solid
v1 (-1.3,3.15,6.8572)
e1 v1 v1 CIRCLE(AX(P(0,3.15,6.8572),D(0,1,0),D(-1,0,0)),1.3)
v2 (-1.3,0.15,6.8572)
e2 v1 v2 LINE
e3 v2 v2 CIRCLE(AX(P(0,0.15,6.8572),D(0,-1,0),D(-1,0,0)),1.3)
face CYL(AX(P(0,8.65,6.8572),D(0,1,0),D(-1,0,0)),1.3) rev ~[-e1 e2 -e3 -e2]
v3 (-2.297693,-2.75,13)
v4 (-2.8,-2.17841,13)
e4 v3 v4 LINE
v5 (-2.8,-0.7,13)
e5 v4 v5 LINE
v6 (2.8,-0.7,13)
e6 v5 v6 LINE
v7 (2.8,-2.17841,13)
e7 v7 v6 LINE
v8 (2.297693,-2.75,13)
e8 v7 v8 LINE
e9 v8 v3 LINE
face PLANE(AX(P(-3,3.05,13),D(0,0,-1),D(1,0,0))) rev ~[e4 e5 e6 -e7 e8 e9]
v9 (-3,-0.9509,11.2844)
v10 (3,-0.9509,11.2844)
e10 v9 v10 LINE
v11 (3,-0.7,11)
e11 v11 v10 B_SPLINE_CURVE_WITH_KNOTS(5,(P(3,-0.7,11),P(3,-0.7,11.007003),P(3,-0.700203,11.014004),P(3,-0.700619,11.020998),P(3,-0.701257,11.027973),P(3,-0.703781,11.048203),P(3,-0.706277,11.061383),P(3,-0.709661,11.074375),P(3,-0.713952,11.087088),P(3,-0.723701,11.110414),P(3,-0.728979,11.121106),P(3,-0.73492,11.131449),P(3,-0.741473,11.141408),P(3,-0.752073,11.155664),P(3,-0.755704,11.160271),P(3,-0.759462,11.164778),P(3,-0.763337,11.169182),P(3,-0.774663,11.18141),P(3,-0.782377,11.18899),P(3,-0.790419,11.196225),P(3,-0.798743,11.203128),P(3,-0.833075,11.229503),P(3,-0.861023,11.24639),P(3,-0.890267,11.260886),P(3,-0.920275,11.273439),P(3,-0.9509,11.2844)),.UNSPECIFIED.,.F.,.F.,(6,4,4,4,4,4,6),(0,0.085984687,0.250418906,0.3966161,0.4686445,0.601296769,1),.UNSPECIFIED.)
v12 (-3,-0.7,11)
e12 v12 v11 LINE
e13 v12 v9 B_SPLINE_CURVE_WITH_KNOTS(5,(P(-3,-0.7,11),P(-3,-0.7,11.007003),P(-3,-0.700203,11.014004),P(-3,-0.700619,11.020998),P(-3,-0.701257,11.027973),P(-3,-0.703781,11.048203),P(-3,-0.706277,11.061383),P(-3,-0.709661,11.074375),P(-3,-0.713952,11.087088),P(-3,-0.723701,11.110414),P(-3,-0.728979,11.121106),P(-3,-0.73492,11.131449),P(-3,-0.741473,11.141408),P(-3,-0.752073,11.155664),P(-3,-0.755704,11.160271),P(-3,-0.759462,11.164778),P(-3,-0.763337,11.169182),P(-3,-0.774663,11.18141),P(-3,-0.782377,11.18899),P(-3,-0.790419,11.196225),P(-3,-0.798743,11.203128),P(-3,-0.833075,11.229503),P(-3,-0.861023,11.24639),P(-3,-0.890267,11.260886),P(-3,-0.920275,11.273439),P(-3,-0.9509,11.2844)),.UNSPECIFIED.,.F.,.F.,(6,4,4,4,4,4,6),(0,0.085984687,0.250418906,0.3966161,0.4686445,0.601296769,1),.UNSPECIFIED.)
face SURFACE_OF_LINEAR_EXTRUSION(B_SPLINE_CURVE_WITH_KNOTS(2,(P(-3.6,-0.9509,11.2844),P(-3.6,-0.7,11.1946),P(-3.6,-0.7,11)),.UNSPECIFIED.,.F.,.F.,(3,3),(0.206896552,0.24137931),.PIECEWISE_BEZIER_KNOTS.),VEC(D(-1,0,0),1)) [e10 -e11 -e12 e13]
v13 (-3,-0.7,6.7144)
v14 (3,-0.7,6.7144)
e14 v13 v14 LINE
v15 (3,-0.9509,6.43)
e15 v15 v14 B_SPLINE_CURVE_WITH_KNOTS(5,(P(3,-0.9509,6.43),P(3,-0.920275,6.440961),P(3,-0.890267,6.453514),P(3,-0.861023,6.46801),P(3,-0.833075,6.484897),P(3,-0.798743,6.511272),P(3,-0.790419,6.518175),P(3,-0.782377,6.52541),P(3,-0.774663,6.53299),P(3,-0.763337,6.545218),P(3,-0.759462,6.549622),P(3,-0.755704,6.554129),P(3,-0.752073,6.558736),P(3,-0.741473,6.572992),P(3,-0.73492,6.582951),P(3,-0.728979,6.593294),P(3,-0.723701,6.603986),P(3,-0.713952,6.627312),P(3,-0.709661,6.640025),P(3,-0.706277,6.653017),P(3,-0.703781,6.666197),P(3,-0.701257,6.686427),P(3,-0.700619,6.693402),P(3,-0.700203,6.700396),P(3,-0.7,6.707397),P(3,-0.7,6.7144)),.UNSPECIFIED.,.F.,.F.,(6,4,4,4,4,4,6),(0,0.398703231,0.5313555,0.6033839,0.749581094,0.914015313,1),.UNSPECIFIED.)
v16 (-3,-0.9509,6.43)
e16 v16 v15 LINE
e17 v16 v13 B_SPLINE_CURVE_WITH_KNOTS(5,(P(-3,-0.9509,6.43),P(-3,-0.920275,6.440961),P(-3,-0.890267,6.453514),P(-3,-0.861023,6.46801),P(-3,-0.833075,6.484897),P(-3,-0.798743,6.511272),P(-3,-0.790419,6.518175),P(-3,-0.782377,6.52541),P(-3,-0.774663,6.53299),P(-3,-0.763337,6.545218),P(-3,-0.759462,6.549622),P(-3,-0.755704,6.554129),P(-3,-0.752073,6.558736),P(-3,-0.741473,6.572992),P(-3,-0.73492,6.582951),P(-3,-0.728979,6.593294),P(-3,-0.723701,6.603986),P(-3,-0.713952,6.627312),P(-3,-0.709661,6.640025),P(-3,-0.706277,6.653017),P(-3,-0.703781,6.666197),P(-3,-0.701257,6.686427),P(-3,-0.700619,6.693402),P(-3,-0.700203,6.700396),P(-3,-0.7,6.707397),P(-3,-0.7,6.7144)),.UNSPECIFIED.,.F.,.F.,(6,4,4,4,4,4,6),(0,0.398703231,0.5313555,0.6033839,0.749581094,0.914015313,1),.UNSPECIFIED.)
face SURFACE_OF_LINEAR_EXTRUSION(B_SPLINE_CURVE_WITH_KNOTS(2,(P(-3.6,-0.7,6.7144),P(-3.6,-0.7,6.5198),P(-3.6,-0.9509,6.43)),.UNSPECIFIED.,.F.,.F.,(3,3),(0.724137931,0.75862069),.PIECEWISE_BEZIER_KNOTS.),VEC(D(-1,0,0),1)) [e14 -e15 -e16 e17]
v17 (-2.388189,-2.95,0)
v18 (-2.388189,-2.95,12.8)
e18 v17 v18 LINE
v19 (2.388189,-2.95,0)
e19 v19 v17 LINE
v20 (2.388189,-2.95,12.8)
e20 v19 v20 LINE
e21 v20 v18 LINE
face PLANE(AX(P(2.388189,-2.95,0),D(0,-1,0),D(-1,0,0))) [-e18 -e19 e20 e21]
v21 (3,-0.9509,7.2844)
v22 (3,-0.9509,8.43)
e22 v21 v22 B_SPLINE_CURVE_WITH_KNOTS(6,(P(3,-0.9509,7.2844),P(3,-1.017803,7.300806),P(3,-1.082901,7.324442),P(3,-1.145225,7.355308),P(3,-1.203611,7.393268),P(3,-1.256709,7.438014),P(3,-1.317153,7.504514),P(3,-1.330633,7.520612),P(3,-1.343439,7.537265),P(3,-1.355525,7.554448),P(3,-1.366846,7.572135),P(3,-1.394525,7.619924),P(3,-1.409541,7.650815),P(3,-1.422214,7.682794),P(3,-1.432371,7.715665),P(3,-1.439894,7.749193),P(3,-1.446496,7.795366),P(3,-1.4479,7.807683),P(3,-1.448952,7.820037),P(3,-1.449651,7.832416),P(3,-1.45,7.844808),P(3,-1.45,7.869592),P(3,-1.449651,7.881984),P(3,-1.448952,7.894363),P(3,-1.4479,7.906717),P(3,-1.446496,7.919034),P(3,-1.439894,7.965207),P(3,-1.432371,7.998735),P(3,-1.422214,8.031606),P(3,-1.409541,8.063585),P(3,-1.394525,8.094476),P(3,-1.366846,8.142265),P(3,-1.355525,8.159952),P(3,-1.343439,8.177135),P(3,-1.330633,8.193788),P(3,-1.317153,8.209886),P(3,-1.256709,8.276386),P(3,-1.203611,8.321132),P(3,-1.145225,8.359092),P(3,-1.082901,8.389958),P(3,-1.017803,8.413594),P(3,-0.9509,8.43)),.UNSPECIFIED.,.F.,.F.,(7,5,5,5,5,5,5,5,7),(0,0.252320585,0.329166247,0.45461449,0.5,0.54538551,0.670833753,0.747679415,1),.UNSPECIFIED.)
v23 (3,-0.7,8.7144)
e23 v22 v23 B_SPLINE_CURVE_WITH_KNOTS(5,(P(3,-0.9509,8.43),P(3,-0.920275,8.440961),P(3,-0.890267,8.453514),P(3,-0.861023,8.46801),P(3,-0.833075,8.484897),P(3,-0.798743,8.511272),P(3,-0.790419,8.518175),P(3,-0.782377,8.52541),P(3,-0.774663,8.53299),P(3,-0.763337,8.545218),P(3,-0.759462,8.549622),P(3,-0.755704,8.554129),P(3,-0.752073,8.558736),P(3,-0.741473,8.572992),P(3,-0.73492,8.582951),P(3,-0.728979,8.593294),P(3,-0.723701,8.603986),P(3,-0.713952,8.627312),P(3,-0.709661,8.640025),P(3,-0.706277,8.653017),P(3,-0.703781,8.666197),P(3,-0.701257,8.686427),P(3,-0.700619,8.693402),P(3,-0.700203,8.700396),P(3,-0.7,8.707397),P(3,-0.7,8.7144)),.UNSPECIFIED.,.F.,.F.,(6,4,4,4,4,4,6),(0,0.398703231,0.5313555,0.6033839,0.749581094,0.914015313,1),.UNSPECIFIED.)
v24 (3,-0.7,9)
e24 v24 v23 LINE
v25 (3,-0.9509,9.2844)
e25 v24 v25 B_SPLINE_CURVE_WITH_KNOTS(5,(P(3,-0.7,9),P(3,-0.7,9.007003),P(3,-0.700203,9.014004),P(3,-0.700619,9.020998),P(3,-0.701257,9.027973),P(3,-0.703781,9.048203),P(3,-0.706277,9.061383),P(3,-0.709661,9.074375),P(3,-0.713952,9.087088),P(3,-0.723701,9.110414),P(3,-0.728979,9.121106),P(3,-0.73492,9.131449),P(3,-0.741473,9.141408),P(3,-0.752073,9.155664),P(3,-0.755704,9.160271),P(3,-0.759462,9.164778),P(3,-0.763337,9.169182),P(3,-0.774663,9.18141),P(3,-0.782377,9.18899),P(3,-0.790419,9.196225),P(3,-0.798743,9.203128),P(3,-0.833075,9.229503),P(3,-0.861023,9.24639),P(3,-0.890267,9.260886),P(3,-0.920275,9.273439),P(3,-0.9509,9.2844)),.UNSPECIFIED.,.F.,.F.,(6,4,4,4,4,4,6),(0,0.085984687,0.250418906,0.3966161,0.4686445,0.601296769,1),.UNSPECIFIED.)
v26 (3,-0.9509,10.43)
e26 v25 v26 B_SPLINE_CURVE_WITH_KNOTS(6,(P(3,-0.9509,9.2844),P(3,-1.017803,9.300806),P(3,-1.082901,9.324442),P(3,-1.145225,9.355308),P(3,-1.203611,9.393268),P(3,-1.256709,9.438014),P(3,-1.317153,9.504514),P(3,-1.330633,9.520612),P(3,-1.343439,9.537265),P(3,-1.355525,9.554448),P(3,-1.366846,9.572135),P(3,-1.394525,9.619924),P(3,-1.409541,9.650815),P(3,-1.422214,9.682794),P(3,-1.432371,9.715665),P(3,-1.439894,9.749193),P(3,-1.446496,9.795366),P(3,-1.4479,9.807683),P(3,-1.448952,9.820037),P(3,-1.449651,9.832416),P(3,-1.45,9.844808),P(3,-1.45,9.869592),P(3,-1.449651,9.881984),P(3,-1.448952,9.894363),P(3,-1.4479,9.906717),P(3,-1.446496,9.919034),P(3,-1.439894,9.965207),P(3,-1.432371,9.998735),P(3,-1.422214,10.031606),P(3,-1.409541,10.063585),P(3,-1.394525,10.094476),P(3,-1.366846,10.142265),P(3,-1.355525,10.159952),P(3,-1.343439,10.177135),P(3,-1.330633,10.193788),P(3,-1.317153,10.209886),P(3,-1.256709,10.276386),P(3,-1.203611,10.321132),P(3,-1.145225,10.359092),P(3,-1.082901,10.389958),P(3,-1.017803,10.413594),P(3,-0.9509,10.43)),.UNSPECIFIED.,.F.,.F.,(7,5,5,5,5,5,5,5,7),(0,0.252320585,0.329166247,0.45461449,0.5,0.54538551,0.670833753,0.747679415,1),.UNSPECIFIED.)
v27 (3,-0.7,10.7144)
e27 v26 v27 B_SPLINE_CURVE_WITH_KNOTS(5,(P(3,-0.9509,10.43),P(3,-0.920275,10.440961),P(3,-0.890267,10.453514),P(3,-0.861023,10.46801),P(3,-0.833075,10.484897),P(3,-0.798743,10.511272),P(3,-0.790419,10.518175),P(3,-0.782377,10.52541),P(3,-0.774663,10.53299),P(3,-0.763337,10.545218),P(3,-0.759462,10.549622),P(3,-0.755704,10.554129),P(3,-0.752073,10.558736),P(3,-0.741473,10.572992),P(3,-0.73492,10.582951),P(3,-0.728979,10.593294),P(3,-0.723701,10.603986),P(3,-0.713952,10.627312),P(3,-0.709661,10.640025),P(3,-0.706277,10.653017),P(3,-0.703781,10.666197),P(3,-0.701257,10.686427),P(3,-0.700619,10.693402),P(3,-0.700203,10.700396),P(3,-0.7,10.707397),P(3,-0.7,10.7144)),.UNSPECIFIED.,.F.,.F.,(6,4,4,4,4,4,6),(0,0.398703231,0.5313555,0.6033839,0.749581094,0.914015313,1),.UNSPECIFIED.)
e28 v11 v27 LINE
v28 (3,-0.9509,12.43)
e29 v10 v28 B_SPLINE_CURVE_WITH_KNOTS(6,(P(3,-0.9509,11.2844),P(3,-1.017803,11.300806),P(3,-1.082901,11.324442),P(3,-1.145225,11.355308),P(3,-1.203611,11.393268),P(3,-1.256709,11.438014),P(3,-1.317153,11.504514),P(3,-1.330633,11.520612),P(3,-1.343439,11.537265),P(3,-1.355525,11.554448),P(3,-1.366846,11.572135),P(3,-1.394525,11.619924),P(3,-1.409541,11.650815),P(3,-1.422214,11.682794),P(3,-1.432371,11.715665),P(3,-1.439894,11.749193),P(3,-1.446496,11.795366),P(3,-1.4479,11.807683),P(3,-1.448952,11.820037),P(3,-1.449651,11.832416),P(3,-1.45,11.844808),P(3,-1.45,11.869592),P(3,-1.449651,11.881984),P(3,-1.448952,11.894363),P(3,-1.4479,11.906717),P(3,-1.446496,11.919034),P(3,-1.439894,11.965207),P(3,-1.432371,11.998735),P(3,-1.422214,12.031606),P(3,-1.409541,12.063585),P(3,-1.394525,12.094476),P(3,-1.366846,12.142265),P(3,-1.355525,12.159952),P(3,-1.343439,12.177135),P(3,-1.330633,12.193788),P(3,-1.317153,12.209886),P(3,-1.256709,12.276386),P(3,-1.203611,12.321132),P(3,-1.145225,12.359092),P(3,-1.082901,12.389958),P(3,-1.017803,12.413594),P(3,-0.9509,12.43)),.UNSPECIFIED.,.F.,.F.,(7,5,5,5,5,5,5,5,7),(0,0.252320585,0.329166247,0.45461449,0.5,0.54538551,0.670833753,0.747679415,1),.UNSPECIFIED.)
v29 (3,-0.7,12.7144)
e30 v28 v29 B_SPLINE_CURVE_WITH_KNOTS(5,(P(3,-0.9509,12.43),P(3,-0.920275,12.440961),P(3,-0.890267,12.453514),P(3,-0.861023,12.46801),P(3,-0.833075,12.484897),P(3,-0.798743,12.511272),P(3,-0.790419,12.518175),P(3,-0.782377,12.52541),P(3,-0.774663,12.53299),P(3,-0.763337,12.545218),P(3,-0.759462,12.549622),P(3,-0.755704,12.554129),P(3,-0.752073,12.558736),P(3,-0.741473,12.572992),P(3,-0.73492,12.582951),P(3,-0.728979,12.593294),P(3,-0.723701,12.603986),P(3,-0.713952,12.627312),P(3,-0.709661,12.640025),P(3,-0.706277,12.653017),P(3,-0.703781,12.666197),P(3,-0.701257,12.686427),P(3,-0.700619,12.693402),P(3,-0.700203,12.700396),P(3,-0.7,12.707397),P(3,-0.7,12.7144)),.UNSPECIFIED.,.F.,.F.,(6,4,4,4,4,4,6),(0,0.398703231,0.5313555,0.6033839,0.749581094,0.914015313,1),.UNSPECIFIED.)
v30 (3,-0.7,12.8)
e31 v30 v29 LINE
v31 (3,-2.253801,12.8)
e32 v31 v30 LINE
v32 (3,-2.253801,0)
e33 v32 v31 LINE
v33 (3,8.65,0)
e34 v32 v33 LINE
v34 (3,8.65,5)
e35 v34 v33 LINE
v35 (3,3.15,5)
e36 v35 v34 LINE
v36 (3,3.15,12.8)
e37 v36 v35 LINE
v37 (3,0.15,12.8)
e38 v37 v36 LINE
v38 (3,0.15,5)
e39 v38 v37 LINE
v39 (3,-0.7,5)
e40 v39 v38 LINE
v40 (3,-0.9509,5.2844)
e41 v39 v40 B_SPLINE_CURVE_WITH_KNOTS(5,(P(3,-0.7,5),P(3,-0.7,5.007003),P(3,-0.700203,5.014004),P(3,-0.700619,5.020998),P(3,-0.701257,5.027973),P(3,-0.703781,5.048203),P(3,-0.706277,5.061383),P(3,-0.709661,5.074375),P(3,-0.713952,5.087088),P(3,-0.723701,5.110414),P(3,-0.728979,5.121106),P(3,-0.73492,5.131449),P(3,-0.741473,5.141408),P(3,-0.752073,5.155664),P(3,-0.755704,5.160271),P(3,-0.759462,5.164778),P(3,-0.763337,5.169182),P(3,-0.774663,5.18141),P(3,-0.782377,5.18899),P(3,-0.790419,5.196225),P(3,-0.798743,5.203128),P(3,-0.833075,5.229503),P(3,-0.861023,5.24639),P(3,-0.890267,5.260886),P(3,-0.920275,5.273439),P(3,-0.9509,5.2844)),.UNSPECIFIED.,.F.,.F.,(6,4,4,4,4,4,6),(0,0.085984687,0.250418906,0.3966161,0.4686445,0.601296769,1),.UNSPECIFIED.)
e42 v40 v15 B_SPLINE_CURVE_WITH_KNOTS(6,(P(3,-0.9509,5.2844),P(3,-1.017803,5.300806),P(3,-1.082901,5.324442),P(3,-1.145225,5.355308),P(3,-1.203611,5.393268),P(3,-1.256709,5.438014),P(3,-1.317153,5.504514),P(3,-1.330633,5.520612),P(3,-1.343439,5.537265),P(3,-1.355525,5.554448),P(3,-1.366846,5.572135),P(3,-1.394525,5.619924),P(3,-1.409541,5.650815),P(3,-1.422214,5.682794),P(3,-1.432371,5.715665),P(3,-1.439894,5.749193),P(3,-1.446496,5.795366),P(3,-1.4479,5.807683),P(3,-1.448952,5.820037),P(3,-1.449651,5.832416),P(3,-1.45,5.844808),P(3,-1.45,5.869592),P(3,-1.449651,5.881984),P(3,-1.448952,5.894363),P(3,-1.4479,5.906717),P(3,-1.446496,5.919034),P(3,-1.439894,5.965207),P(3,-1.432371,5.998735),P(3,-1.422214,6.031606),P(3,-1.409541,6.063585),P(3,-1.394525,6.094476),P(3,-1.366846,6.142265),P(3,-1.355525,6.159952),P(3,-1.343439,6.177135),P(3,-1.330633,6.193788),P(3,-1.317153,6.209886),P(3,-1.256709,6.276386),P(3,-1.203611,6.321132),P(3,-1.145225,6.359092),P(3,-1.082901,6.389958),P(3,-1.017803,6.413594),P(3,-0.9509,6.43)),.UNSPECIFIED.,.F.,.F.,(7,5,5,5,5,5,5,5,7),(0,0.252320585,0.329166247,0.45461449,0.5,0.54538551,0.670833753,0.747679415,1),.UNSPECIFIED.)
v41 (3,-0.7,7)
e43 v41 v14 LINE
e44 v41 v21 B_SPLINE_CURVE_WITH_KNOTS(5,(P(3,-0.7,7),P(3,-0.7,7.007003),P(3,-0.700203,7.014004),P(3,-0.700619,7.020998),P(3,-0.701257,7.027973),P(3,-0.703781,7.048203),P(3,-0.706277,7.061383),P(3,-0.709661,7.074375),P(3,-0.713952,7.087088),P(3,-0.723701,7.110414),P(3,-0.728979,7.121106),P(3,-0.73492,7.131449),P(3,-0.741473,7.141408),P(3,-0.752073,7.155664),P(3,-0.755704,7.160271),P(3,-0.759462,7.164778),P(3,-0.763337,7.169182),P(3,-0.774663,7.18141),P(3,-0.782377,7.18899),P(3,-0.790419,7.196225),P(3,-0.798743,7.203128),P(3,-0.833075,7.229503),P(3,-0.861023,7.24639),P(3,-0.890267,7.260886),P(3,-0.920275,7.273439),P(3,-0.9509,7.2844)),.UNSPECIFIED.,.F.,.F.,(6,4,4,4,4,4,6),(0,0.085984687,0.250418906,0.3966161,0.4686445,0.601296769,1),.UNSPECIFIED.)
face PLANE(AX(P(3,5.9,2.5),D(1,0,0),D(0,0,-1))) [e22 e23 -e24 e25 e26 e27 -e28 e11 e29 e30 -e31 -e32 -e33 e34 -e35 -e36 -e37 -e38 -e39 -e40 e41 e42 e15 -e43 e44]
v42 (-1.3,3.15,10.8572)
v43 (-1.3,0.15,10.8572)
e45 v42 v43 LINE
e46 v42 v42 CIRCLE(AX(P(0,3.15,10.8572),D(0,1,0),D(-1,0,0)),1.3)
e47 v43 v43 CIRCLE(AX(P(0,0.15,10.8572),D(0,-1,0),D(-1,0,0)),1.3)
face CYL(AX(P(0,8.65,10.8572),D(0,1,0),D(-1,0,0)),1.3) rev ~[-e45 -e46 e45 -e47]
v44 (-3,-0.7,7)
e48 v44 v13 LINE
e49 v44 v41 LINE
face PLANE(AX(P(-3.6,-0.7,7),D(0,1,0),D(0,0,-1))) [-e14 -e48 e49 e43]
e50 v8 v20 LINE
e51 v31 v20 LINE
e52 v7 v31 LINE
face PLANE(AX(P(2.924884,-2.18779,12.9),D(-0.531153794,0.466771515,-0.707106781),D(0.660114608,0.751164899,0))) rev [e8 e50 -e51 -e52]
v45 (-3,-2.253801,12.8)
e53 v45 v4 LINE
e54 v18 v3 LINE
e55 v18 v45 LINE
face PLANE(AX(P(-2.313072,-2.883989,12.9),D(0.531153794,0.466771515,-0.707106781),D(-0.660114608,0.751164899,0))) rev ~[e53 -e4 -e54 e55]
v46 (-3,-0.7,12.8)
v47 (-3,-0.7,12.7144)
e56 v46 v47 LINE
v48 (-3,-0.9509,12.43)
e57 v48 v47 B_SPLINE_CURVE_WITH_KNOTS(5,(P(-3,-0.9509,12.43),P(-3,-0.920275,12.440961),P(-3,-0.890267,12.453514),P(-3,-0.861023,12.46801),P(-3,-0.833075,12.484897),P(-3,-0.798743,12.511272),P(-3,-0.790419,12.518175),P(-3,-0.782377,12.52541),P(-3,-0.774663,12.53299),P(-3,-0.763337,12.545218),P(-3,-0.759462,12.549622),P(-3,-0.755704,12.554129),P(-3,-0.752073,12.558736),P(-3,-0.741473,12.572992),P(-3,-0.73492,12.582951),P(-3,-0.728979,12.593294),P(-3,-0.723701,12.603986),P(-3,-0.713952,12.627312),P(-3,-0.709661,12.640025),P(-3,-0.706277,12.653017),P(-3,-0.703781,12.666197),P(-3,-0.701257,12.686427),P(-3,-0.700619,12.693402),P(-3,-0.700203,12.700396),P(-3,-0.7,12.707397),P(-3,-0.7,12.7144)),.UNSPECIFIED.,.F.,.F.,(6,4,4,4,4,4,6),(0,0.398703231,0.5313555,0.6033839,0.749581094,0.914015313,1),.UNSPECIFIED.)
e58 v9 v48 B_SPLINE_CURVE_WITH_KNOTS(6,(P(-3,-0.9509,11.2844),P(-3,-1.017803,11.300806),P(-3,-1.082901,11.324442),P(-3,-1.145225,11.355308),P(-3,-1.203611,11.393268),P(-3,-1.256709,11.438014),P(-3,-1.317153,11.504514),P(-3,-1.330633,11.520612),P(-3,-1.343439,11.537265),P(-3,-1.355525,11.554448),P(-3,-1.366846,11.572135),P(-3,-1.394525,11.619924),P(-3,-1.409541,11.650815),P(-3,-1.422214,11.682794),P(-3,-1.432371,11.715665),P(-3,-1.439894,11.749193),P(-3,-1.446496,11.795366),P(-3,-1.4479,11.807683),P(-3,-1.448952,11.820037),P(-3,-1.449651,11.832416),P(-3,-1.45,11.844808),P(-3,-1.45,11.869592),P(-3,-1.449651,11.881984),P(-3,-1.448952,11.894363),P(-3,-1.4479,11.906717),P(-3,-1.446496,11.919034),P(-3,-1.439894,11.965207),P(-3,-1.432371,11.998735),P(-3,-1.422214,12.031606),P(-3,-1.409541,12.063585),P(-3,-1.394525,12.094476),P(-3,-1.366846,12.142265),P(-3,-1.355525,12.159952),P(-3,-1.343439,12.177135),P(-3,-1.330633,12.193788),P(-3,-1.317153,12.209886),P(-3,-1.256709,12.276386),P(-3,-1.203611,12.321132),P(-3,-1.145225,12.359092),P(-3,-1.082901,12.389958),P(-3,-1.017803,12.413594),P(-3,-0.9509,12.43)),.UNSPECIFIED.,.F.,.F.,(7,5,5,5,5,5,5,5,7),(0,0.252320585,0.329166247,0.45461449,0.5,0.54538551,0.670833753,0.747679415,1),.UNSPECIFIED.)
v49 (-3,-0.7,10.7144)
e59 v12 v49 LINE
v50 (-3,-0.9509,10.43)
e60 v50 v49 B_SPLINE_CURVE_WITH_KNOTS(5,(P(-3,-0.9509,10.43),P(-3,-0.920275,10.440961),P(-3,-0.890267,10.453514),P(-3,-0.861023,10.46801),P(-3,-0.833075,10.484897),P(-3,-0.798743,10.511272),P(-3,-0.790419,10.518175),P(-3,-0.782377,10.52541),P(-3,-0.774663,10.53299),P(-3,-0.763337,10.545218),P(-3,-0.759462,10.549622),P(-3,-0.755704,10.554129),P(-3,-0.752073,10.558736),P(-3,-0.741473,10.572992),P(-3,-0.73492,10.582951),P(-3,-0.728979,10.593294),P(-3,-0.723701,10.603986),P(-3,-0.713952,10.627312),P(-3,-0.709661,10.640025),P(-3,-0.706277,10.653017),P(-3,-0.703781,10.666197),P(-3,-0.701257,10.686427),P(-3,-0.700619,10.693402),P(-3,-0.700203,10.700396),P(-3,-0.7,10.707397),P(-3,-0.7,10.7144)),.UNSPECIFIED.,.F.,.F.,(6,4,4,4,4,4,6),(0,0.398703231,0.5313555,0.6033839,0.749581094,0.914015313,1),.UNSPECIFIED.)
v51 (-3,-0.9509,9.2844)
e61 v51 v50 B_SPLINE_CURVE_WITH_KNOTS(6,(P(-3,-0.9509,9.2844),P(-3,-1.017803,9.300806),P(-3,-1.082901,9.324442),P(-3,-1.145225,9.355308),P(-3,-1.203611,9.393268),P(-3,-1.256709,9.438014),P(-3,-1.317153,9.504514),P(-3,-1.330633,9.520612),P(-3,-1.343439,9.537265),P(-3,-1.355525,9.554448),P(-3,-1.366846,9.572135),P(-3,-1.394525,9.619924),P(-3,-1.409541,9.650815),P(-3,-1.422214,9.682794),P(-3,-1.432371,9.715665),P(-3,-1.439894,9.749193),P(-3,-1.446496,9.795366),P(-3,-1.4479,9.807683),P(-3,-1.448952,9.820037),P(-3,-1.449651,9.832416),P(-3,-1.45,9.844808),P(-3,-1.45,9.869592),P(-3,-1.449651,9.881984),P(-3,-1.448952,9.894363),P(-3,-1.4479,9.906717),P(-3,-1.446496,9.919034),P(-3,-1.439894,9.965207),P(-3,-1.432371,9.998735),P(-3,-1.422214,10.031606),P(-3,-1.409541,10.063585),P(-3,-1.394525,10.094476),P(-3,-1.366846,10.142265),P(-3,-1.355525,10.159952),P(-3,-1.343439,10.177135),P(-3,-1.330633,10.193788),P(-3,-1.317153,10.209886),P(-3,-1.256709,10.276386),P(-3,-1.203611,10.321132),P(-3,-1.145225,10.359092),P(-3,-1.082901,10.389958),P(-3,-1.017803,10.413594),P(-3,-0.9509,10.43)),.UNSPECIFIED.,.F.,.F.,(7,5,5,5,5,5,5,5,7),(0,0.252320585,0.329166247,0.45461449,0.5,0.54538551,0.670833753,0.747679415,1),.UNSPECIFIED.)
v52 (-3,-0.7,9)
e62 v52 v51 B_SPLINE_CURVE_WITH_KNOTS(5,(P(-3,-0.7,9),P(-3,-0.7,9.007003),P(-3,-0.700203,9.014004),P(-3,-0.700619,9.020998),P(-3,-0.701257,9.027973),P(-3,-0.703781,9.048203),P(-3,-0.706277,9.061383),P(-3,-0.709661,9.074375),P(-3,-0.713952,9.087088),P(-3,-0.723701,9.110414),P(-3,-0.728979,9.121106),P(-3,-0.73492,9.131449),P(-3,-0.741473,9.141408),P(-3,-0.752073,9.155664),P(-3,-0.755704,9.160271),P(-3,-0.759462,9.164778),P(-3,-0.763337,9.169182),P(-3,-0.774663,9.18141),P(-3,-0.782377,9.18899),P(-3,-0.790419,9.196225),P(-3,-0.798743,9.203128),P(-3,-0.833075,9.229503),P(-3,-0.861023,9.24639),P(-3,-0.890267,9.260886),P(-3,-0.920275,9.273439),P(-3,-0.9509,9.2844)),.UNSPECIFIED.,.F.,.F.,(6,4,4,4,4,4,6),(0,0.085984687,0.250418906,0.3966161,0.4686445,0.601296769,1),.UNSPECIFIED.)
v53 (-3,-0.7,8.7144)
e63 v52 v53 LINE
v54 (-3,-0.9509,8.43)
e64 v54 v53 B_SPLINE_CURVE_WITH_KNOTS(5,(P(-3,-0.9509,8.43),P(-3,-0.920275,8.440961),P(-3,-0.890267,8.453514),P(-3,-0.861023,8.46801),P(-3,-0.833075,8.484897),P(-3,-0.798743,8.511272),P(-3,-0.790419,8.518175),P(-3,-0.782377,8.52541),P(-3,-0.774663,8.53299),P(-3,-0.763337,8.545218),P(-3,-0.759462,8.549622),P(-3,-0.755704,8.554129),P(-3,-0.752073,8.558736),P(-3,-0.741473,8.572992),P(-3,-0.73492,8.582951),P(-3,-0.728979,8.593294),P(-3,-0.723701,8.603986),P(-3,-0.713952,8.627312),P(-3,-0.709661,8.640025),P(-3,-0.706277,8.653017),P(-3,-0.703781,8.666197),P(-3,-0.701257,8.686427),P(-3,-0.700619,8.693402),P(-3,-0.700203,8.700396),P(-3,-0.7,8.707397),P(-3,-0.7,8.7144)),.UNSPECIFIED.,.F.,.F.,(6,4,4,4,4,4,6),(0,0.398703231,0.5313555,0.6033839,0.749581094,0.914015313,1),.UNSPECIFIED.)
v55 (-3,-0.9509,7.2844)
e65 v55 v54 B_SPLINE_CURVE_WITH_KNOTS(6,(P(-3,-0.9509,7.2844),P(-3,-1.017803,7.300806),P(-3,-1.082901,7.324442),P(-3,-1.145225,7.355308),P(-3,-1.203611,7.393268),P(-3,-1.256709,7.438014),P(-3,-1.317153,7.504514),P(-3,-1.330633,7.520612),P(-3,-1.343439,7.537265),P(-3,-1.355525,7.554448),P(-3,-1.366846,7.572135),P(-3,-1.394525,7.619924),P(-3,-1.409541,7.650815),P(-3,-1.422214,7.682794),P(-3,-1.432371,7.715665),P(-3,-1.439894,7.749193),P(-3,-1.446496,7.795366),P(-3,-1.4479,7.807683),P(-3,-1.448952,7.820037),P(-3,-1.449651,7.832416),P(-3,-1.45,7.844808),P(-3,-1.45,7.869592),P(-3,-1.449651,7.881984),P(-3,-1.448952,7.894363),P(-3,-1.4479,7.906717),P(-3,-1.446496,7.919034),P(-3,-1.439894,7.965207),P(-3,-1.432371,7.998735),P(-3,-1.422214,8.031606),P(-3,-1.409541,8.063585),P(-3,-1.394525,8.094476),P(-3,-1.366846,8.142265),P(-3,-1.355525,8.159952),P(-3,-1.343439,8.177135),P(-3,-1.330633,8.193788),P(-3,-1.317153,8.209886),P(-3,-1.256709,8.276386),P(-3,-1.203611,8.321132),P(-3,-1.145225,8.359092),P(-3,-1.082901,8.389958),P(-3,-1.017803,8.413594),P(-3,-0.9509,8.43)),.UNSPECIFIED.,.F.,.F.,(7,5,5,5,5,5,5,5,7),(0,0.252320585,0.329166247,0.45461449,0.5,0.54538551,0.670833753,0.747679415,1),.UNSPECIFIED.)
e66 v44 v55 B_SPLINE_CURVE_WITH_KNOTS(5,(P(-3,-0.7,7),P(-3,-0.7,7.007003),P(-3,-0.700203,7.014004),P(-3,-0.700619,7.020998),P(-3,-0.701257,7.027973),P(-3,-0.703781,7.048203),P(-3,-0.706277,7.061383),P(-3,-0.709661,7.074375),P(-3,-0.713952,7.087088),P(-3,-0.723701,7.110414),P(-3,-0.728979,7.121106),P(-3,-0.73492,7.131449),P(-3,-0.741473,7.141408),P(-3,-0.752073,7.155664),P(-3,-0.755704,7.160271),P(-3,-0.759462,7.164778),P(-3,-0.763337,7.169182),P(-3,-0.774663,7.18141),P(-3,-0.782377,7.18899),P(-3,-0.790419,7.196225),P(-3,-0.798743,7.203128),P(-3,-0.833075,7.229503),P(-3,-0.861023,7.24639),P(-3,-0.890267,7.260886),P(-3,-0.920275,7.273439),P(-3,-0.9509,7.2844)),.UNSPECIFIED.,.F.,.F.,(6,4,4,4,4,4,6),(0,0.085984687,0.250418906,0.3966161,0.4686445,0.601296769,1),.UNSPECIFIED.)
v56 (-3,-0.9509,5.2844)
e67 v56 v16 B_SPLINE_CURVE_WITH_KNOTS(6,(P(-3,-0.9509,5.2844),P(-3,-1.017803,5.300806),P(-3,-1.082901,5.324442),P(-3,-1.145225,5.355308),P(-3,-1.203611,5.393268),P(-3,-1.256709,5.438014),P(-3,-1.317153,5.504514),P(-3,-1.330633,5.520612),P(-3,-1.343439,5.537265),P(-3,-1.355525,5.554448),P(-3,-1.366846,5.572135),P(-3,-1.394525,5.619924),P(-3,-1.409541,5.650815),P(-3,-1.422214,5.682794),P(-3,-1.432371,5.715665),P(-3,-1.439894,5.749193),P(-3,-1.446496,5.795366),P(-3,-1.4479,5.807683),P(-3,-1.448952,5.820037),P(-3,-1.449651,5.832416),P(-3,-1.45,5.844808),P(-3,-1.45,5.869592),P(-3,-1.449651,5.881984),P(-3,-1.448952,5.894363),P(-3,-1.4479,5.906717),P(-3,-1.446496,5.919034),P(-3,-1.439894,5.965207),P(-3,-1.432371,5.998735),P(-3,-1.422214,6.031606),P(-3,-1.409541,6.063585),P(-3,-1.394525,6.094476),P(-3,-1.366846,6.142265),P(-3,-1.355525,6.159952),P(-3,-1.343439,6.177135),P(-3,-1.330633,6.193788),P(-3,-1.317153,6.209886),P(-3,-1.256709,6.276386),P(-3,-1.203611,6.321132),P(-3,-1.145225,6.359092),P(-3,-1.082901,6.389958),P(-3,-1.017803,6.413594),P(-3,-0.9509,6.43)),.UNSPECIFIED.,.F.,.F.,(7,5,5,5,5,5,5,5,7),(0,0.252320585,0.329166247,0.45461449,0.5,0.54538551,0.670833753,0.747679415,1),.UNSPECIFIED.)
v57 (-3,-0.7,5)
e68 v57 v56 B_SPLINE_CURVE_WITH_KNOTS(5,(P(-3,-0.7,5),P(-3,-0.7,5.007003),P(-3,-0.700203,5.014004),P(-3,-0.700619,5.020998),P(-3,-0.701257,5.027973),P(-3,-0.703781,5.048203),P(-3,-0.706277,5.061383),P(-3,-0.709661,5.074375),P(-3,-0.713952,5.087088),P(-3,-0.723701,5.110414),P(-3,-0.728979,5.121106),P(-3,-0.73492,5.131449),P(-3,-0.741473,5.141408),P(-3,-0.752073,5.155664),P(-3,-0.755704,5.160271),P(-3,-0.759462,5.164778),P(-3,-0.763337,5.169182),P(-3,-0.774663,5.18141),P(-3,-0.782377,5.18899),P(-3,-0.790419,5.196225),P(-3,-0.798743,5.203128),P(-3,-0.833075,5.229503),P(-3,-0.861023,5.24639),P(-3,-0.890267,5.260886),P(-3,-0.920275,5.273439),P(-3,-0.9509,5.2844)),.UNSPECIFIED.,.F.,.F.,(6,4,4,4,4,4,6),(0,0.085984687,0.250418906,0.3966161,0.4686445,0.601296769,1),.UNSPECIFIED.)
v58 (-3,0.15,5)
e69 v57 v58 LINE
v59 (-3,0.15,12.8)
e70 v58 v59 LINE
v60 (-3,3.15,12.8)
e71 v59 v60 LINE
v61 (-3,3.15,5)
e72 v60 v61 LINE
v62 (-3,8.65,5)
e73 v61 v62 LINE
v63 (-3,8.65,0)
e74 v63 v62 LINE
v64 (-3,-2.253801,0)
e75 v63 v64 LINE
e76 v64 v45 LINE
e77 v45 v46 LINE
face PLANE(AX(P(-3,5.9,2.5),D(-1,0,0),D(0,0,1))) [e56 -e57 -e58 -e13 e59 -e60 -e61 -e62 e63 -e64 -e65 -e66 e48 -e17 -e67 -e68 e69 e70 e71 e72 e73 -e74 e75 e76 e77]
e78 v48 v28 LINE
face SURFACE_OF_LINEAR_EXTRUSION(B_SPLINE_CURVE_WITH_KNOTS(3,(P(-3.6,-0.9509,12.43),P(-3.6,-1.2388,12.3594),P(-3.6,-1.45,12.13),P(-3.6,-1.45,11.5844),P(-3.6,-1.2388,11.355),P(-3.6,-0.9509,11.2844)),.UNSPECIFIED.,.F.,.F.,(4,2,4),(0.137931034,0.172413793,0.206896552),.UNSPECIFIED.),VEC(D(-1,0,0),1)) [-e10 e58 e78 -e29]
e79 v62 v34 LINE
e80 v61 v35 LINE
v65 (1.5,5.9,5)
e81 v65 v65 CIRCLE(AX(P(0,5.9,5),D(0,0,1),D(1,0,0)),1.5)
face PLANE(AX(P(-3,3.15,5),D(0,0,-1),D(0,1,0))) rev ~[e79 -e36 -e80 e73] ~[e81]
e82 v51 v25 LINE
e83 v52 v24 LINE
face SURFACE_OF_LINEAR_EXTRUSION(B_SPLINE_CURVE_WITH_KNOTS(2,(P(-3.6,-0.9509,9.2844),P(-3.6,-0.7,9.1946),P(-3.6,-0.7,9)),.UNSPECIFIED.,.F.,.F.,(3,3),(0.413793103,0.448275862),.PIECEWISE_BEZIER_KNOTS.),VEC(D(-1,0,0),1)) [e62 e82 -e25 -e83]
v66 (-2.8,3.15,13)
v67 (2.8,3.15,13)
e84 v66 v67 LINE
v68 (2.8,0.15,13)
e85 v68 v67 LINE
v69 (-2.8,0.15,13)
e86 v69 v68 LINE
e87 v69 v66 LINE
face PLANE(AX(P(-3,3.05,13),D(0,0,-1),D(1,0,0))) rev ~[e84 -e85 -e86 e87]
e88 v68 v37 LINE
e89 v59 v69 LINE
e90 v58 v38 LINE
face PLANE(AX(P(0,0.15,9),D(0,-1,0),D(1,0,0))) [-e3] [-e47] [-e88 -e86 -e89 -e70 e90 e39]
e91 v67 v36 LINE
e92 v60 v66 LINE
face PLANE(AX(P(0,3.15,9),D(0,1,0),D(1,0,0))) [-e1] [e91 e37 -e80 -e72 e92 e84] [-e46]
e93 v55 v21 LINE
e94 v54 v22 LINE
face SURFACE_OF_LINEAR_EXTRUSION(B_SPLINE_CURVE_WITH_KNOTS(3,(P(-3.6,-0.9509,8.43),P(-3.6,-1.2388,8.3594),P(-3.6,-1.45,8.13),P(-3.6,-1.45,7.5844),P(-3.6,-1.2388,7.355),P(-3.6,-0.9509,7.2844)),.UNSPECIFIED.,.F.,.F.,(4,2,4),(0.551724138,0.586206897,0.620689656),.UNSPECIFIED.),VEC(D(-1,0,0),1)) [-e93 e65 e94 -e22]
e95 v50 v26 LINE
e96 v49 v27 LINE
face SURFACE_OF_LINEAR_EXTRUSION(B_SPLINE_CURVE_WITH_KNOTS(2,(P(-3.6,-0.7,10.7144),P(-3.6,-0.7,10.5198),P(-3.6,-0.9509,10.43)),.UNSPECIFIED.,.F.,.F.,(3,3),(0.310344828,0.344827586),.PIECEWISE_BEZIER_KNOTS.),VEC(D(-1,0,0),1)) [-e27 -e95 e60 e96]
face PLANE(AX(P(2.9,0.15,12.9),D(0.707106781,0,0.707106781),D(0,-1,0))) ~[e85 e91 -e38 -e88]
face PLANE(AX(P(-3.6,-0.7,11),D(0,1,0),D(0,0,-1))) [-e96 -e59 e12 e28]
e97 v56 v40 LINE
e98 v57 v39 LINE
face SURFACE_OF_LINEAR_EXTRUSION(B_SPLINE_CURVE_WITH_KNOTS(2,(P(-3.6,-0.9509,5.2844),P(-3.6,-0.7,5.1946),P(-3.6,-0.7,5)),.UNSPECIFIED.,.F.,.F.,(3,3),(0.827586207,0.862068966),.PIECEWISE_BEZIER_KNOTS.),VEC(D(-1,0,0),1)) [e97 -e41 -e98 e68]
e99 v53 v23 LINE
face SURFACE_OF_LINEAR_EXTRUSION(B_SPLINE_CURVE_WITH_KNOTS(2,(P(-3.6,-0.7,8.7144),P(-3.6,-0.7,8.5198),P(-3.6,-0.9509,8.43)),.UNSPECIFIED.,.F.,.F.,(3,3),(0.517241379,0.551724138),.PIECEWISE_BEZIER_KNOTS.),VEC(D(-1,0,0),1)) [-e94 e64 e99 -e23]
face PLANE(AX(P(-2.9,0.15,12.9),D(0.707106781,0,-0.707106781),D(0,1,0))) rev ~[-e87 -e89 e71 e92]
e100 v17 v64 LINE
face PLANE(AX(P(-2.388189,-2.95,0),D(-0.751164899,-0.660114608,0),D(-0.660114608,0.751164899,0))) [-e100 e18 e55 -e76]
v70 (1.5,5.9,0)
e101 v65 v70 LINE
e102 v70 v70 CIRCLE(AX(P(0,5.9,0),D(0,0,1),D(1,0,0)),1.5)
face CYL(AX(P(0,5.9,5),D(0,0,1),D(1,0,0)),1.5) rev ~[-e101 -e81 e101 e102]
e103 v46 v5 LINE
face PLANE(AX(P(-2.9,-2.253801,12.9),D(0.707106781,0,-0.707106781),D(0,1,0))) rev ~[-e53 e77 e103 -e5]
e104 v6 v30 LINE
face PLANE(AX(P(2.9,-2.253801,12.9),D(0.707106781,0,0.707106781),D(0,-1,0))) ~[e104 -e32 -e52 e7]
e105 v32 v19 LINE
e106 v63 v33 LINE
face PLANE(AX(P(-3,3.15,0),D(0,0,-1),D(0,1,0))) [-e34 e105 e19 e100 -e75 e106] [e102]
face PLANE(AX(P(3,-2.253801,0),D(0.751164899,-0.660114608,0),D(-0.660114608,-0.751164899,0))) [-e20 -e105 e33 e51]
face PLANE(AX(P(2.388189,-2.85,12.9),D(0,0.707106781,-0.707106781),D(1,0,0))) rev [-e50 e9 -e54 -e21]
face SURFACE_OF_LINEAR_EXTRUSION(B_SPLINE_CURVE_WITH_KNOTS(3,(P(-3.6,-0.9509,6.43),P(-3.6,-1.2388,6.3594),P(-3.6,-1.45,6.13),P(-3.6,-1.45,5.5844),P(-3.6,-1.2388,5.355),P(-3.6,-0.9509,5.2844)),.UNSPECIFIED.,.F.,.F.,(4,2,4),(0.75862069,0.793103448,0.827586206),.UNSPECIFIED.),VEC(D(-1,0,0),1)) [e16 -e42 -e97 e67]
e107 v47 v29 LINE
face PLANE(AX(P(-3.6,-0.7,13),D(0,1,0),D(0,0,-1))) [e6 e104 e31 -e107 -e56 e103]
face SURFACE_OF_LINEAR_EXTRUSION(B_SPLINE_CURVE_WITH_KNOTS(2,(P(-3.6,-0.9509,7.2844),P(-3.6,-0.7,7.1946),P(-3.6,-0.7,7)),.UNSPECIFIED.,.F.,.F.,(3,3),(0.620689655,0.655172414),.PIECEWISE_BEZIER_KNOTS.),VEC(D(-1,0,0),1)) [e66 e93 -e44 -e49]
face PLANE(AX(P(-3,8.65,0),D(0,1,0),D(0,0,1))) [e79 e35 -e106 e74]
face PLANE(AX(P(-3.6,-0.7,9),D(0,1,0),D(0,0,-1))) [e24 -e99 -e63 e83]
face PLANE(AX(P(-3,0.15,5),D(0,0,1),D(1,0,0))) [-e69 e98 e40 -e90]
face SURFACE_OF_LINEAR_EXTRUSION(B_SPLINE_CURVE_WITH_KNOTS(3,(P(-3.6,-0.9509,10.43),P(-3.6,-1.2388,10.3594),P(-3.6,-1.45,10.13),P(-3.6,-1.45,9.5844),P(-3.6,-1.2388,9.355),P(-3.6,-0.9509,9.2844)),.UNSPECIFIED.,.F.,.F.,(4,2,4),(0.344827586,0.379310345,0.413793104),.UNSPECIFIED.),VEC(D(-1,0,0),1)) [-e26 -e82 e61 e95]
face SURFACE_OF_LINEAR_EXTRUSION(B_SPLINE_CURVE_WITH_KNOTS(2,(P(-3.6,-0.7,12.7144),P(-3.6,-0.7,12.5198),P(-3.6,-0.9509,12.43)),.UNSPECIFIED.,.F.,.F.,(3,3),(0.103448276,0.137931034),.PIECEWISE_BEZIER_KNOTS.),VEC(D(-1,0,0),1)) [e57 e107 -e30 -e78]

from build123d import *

# Parameters (mm, degrees)
BOSS_EXTRUDE1_DEPTH     = 13
SKETCH6_W               = 6
SKETCH6_H               = 5
BOSS_EXTRUDE4_DEPTH     = 5.6
SKETCH16_W              = 6
SKETCH16_H              = 8
BOSS_EXTRUDE5_DEPTH     = 0.1
CUT_EXTRUDE6_DEPTH      = 4
CUT_EXTRUDE6_DEPTH_BACK = 3.6
SKETCH15_R              = 1.3
CUT_EXTRUDE7_DEPTH      = 8.7202
CUT_EXTRUDE8_START      = -0.2202
SKETCH19_W              = 6
SKETCH19_H              = 8
SKETCH19_R              = 1.3
CUT_EXTRUDE8_DEPTH      = 0.2202
SKETCH12_R              = 1.5
CUT_EXTRUDE5_DEPTH      = 6
CHAMFER1_SIZE           = 0.2
SKETCH20_W              = 5
SKETCH20_H              = 5.5
BOSS_EXTRUDE6_DEPTH     = 0.5
SKETCH21_W              = 5
SKETCH21_H              = 5.5
BOSS_EXTRUDE7_DEPTH     = 0.5
CHAMFER2_SIZE           = 0.2
CROQUIS1_W              = 5
CROQUIS1_H              = 5.5
CORTAR_EXTRUIR1_DEPTH   = 0.5
CROQUIS2_W              = 5
CROQUIS2_H              = 5.5
CORTAR_EXTRUIR2_DEPTH   = 1


with BuildPart() as part:
    # Sketch1 → Boss-Extrude1 (new body)
    with BuildSketch(Plane.XY):
        Polygon((3, 3.05), (3, -2.253801214), (2.388188946, -2.95), (-2.388188946, -2.95), (-3, -2.253801214), (-3, 3.05), align=None)
    extrude(amount=BOSS_EXTRUDE1_DEPTH)

    # Sketch6 → Boss-Extrude4 (add)
    with BuildSketch(Plane(origin=(0, 3.05, 0), x_dir=(1, 0, 0), z_dir=(0, 1, 0))):
        with Locations((0, -2.5)):
            Rectangle(SKETCH6_W, SKETCH6_H)
    extrude(amount=BOSS_EXTRUDE4_DEPTH)

    # Sketch16 → Boss-Extrude5 (add)
    with BuildSketch(Plane(origin=(0, 3.05, 0), x_dir=(1, 0, 0), z_dir=(0, 1, 0))):
        with Locations((0, -9)):
            Rectangle(SKETCH16_W, SKETCH16_H)
    extrude(amount=BOSS_EXTRUDE5_DEPTH)

    # Sketch18 → Cut-Extrude6 (cut, two sides: drawn at the far end of the back side and taken through both)
    with BuildSketch(Plane(origin=(0, 0, 0), x_dir=(0, 0, -1), z_dir=(1, 0, 0)).offset(-CUT_EXTRUDE6_DEPTH_BACK)):
        with BuildLine():
            Line((-8.8572, -0.0702), (-12.8572, -0.0702))
            Line((-12.8572, -0.0702), (-13, -0.0702))
            Line((-13, -0.0702), (-13, -0.7))
            Line((-13, -0.7), (-12.8572, -0.7))
            Line((-12.8572, -0.7), (-12.7144, -0.7))
            add(Edge.make_bspline(
                [(-12.7144, -0.7), (-12.5198, -0.7), (-12.43, -0.9509)],
                knots=[0.103448276, 0.103448276, 0.103448276, 0.137931034, 0.137931034, 0.137931034], degree=2))
            add(Edge.make_bspline(
                [(-12.43, -0.9509), (-12.3594, -1.2388), (-12.13, -1.45), (-11.8572, -1.45)],
                knots=[0.137931034, 0.137931034, 0.137931034, 0.137931034, 0.172413793, 0.172413793, 0.172413793, 0.172413793], degree=3))
            add(Edge.make_bspline(
                [(-11.8572, -1.45), (-11.5844, -1.45), (-11.355, -1.2388), (-11.2844, -0.9509)],
                knots=[0.172413793, 0.172413793, 0.172413793, 0.172413793, 0.206896552, 0.206896552, 0.206896552, 0.206896552], degree=3))
            add(Edge.make_bspline(
                [(-11.2844, -0.9509), (-11.1946, -0.7), (-11, -0.7)],
                knots=[0.206896552, 0.206896552, 0.206896552, 0.24137931, 0.24137931, 0.24137931], degree=2))
            Line((-11, -0.7), (-10.8572, -0.7))
            Line((-10.8572, -0.7), (-10.7144, -0.7))
            add(Edge.make_bspline(
                [(-10.7144, -0.7), (-10.5198, -0.7), (-10.43, -0.9509)],
                knots=[0.310344828, 0.310344828, 0.310344828, 0.344827586, 0.344827586, 0.344827586], degree=2))
            add(Edge.make_bspline(
                [(-10.43, -0.9509), (-10.3594, -1.2388), (-10.13, -1.45), (-9.8572, -1.45)],
                knots=[0.344827586, 0.344827586, 0.344827586, 0.344827586, 0.379310345, 0.379310345, 0.379310345, 0.379310345], degree=3))
            add(Edge.make_bspline(
                [(-9.8572, -1.45), (-9.5844, -1.45), (-9.355, -1.2388), (-9.2844, -0.9509)],
                knots=[0.379310345, 0.379310345, 0.379310345, 0.379310345, 0.413793103, 0.413793103, 0.413793103, 0.413793103], degree=3))
            add(Edge.make_bspline(
                [(-9.2844, -0.9509), (-9.1946, -0.7), (-9, -0.7)],
                knots=[0.413793103, 0.413793103, 0.413793103, 0.448275862, 0.448275862, 0.448275862], degree=2))
            Line((-9, -0.7), (-8.8572, -0.7))
            Line((-8.8572, -0.7), (-8.7144, -0.7))
            add(Edge.make_bspline(
                [(-8.7144, -0.7), (-8.5198, -0.7), (-8.43, -0.9509)],
                knots=[0.517241379, 0.517241379, 0.517241379, 0.551724138, 0.551724138, 0.551724138], degree=2))
            add(Edge.make_bspline(
                [(-8.43, -0.9509), (-8.3594, -1.2388), (-8.13, -1.45), (-7.8572, -1.45)],
                knots=[0.551724138, 0.551724138, 0.551724138, 0.551724138, 0.586206897, 0.586206897, 0.586206897, 0.586206897], degree=3))
            add(Edge.make_bspline(
                [(-7.8572, -1.45), (-7.5844, -1.45), (-7.355, -1.2388), (-7.2844, -0.9509)],
                knots=[0.586206897, 0.586206897, 0.586206897, 0.586206897, 0.620689655, 0.620689655, 0.620689655, 0.620689655], degree=3))
            add(Edge.make_bspline(
                [(-7.2844, -0.9509), (-7.1946, -0.7), (-7, -0.7)],
                knots=[0.620689655, 0.620689655, 0.620689655, 0.655172414, 0.655172414, 0.655172414], degree=2))
            Line((-7, -0.7), (-6.8572, -0.7))
            Line((-6.8572, -0.7), (-6.7144, -0.7))
            add(Edge.make_bspline(
                [(-6.7144, -0.7), (-6.5198, -0.7), (-6.43, -0.9509)],
                knots=[0.724137931, 0.724137931, 0.724137931, 0.75862069, 0.75862069, 0.75862069], degree=2))
            add(Edge.make_bspline(
                [(-6.43, -0.9509), (-6.3594, -1.2388), (-6.13, -1.45), (-5.8572, -1.45)],
                knots=[0.75862069, 0.75862069, 0.75862069, 0.75862069, 0.793103448, 0.793103448, 0.793103448, 0.793103448], degree=3))
            add(Edge.make_bspline(
                [(-5.8572, -1.45), (-5.5844, -1.45), (-5.355, -1.2388), (-5.2844, -0.9509)],
                knots=[0.793103448, 0.793103448, 0.793103448, 0.793103448, 0.827586207, 0.827586207, 0.827586207, 0.827586207], degree=3))
            add(Edge.make_bspline(
                [(-5.2844, -0.9509), (-5.1946, -0.7), (-5, -0.7)],
                knots=[0.827586207, 0.827586207, 0.827586207, 0.862068966, 0.862068966, 0.862068966], degree=2))
            Line((-5, -0.7), (-5, -0.0702))
            Line((-5, -0.0702), (-8.8572, -0.0702))
        make_face()
    extrude(amount=CUT_EXTRUDE6_DEPTH + CUT_EXTRUDE6_DEPTH_BACK, mode=Mode.SUBTRACT)

    # Sketch15 → Cut-Extrude7 (cut)
    with BuildSketch(Plane(origin=(0, 8.65, 0), x_dir=(1, 0, 0), z_dir=(0, 1, 0))):
        with Locations(Location((0, -10.8572, 0), (0, 0, 180))):
            Circle(SKETCH15_R)
        with Locations(Location((0, -6.8572, 0), (0, 0, 180))):
            Circle(SKETCH15_R)
    extrude(amount=-CUT_EXTRUDE7_DEPTH, mode=Mode.SUBTRACT)

    # Sketch19 → Cut-Extrude8 (cut)
    with BuildSketch(Plane.XZ.offset(0.0702).offset(CUT_EXTRUDE8_START)):
        with Locations((0, 9)):
            Rectangle(SKETCH19_W, SKETCH19_H)
        with Locations(Location((0, 10.8572, 0), (0, 0, 180))):
            Circle(SKETCH19_R, mode=Mode.SUBTRACT)
        with Locations(Location((0, 6.8572, 0), (0, 0, 180))):
            Circle(SKETCH19_R, mode=Mode.SUBTRACT)
    extrude(amount=CUT_EXTRUDE8_DEPTH, mode=Mode.SUBTRACT)

    # Sketch12 → Cut-Extrude5 (cut)
    with BuildSketch(Plane.XY.offset(5)):
        with Locations((0, 5.9)):
            Circle(SKETCH12_R)
    extrude(amount=-CUT_EXTRUDE5_DEPTH, mode=Mode.SUBTRACT)

    # Chamfer1
    chamfer1_edges = [part.edges().sort_by_distance(p)[0] for p in [
        (-2.694094473, -2.601900607, 13),
        (0, -2.95, 13),
        (2.694094473, -2.601900607, 13),
        (3, 1.65, 13),
        (3, -1.476900607, 13),
        (-3, -1.476900607, 13),
        (-3, 1.65, 13),
    ]]
    chamfer(chamfer1_edges, length=CHAMFER1_SIZE)

    # Sketch20 → Boss-Extrude6 (add)
    with BuildSketch(Plane(origin=(3, 0, 0), x_dir=(0, 0, -1), z_dir=(1, 0, 0))):
        with Locations((-2.5, 5.9)):
            Rectangle(SKETCH20_W, SKETCH20_H)
    extrude(amount=BOSS_EXTRUDE6_DEPTH)

    # Sketch21 → Boss-Extrude7 (add)
    with BuildSketch(Plane.ZY.offset(3)):
        with Locations((2.5, 5.9)):
            Rectangle(SKETCH21_W, SKETCH21_H)
    extrude(amount=BOSS_EXTRUDE7_DEPTH)

    # Chamfer2
    chamfer2_edges = [part.edges().sort_by_distance(p)[0] for p in [
        (3.5, 5.9, 5),
        (-3.5, 5.9, 5),
    ]]
    chamfer(chamfer2_edges, length=CHAMFER2_SIZE)

    # Croquis1 → Cortar-Extruir1 (cut)
    with BuildSketch(Plane.ZY.offset(3.5)):
        with Locations((2.5, 5.9)):
            Rectangle(CROQUIS1_W, CROQUIS1_H)
    extrude(amount=-CORTAR_EXTRUIR1_DEPTH, mode=Mode.SUBTRACT)

    # Croquis2 → Cortar-Extruir2 (cut)
    with BuildSketch(Plane(origin=(3, 0, 0), x_dir=(0, 0, -1), z_dir=(1, 0, 0))):
        with Locations((-2.5, 5.9)):
            Rectangle(CROQUIS2_W, CROQUIS2_H)
    extrude(amount=CORTAR_EXTRUIR2_DEPTH, mode=Mode.SUBTRACT)


solid = part.part
